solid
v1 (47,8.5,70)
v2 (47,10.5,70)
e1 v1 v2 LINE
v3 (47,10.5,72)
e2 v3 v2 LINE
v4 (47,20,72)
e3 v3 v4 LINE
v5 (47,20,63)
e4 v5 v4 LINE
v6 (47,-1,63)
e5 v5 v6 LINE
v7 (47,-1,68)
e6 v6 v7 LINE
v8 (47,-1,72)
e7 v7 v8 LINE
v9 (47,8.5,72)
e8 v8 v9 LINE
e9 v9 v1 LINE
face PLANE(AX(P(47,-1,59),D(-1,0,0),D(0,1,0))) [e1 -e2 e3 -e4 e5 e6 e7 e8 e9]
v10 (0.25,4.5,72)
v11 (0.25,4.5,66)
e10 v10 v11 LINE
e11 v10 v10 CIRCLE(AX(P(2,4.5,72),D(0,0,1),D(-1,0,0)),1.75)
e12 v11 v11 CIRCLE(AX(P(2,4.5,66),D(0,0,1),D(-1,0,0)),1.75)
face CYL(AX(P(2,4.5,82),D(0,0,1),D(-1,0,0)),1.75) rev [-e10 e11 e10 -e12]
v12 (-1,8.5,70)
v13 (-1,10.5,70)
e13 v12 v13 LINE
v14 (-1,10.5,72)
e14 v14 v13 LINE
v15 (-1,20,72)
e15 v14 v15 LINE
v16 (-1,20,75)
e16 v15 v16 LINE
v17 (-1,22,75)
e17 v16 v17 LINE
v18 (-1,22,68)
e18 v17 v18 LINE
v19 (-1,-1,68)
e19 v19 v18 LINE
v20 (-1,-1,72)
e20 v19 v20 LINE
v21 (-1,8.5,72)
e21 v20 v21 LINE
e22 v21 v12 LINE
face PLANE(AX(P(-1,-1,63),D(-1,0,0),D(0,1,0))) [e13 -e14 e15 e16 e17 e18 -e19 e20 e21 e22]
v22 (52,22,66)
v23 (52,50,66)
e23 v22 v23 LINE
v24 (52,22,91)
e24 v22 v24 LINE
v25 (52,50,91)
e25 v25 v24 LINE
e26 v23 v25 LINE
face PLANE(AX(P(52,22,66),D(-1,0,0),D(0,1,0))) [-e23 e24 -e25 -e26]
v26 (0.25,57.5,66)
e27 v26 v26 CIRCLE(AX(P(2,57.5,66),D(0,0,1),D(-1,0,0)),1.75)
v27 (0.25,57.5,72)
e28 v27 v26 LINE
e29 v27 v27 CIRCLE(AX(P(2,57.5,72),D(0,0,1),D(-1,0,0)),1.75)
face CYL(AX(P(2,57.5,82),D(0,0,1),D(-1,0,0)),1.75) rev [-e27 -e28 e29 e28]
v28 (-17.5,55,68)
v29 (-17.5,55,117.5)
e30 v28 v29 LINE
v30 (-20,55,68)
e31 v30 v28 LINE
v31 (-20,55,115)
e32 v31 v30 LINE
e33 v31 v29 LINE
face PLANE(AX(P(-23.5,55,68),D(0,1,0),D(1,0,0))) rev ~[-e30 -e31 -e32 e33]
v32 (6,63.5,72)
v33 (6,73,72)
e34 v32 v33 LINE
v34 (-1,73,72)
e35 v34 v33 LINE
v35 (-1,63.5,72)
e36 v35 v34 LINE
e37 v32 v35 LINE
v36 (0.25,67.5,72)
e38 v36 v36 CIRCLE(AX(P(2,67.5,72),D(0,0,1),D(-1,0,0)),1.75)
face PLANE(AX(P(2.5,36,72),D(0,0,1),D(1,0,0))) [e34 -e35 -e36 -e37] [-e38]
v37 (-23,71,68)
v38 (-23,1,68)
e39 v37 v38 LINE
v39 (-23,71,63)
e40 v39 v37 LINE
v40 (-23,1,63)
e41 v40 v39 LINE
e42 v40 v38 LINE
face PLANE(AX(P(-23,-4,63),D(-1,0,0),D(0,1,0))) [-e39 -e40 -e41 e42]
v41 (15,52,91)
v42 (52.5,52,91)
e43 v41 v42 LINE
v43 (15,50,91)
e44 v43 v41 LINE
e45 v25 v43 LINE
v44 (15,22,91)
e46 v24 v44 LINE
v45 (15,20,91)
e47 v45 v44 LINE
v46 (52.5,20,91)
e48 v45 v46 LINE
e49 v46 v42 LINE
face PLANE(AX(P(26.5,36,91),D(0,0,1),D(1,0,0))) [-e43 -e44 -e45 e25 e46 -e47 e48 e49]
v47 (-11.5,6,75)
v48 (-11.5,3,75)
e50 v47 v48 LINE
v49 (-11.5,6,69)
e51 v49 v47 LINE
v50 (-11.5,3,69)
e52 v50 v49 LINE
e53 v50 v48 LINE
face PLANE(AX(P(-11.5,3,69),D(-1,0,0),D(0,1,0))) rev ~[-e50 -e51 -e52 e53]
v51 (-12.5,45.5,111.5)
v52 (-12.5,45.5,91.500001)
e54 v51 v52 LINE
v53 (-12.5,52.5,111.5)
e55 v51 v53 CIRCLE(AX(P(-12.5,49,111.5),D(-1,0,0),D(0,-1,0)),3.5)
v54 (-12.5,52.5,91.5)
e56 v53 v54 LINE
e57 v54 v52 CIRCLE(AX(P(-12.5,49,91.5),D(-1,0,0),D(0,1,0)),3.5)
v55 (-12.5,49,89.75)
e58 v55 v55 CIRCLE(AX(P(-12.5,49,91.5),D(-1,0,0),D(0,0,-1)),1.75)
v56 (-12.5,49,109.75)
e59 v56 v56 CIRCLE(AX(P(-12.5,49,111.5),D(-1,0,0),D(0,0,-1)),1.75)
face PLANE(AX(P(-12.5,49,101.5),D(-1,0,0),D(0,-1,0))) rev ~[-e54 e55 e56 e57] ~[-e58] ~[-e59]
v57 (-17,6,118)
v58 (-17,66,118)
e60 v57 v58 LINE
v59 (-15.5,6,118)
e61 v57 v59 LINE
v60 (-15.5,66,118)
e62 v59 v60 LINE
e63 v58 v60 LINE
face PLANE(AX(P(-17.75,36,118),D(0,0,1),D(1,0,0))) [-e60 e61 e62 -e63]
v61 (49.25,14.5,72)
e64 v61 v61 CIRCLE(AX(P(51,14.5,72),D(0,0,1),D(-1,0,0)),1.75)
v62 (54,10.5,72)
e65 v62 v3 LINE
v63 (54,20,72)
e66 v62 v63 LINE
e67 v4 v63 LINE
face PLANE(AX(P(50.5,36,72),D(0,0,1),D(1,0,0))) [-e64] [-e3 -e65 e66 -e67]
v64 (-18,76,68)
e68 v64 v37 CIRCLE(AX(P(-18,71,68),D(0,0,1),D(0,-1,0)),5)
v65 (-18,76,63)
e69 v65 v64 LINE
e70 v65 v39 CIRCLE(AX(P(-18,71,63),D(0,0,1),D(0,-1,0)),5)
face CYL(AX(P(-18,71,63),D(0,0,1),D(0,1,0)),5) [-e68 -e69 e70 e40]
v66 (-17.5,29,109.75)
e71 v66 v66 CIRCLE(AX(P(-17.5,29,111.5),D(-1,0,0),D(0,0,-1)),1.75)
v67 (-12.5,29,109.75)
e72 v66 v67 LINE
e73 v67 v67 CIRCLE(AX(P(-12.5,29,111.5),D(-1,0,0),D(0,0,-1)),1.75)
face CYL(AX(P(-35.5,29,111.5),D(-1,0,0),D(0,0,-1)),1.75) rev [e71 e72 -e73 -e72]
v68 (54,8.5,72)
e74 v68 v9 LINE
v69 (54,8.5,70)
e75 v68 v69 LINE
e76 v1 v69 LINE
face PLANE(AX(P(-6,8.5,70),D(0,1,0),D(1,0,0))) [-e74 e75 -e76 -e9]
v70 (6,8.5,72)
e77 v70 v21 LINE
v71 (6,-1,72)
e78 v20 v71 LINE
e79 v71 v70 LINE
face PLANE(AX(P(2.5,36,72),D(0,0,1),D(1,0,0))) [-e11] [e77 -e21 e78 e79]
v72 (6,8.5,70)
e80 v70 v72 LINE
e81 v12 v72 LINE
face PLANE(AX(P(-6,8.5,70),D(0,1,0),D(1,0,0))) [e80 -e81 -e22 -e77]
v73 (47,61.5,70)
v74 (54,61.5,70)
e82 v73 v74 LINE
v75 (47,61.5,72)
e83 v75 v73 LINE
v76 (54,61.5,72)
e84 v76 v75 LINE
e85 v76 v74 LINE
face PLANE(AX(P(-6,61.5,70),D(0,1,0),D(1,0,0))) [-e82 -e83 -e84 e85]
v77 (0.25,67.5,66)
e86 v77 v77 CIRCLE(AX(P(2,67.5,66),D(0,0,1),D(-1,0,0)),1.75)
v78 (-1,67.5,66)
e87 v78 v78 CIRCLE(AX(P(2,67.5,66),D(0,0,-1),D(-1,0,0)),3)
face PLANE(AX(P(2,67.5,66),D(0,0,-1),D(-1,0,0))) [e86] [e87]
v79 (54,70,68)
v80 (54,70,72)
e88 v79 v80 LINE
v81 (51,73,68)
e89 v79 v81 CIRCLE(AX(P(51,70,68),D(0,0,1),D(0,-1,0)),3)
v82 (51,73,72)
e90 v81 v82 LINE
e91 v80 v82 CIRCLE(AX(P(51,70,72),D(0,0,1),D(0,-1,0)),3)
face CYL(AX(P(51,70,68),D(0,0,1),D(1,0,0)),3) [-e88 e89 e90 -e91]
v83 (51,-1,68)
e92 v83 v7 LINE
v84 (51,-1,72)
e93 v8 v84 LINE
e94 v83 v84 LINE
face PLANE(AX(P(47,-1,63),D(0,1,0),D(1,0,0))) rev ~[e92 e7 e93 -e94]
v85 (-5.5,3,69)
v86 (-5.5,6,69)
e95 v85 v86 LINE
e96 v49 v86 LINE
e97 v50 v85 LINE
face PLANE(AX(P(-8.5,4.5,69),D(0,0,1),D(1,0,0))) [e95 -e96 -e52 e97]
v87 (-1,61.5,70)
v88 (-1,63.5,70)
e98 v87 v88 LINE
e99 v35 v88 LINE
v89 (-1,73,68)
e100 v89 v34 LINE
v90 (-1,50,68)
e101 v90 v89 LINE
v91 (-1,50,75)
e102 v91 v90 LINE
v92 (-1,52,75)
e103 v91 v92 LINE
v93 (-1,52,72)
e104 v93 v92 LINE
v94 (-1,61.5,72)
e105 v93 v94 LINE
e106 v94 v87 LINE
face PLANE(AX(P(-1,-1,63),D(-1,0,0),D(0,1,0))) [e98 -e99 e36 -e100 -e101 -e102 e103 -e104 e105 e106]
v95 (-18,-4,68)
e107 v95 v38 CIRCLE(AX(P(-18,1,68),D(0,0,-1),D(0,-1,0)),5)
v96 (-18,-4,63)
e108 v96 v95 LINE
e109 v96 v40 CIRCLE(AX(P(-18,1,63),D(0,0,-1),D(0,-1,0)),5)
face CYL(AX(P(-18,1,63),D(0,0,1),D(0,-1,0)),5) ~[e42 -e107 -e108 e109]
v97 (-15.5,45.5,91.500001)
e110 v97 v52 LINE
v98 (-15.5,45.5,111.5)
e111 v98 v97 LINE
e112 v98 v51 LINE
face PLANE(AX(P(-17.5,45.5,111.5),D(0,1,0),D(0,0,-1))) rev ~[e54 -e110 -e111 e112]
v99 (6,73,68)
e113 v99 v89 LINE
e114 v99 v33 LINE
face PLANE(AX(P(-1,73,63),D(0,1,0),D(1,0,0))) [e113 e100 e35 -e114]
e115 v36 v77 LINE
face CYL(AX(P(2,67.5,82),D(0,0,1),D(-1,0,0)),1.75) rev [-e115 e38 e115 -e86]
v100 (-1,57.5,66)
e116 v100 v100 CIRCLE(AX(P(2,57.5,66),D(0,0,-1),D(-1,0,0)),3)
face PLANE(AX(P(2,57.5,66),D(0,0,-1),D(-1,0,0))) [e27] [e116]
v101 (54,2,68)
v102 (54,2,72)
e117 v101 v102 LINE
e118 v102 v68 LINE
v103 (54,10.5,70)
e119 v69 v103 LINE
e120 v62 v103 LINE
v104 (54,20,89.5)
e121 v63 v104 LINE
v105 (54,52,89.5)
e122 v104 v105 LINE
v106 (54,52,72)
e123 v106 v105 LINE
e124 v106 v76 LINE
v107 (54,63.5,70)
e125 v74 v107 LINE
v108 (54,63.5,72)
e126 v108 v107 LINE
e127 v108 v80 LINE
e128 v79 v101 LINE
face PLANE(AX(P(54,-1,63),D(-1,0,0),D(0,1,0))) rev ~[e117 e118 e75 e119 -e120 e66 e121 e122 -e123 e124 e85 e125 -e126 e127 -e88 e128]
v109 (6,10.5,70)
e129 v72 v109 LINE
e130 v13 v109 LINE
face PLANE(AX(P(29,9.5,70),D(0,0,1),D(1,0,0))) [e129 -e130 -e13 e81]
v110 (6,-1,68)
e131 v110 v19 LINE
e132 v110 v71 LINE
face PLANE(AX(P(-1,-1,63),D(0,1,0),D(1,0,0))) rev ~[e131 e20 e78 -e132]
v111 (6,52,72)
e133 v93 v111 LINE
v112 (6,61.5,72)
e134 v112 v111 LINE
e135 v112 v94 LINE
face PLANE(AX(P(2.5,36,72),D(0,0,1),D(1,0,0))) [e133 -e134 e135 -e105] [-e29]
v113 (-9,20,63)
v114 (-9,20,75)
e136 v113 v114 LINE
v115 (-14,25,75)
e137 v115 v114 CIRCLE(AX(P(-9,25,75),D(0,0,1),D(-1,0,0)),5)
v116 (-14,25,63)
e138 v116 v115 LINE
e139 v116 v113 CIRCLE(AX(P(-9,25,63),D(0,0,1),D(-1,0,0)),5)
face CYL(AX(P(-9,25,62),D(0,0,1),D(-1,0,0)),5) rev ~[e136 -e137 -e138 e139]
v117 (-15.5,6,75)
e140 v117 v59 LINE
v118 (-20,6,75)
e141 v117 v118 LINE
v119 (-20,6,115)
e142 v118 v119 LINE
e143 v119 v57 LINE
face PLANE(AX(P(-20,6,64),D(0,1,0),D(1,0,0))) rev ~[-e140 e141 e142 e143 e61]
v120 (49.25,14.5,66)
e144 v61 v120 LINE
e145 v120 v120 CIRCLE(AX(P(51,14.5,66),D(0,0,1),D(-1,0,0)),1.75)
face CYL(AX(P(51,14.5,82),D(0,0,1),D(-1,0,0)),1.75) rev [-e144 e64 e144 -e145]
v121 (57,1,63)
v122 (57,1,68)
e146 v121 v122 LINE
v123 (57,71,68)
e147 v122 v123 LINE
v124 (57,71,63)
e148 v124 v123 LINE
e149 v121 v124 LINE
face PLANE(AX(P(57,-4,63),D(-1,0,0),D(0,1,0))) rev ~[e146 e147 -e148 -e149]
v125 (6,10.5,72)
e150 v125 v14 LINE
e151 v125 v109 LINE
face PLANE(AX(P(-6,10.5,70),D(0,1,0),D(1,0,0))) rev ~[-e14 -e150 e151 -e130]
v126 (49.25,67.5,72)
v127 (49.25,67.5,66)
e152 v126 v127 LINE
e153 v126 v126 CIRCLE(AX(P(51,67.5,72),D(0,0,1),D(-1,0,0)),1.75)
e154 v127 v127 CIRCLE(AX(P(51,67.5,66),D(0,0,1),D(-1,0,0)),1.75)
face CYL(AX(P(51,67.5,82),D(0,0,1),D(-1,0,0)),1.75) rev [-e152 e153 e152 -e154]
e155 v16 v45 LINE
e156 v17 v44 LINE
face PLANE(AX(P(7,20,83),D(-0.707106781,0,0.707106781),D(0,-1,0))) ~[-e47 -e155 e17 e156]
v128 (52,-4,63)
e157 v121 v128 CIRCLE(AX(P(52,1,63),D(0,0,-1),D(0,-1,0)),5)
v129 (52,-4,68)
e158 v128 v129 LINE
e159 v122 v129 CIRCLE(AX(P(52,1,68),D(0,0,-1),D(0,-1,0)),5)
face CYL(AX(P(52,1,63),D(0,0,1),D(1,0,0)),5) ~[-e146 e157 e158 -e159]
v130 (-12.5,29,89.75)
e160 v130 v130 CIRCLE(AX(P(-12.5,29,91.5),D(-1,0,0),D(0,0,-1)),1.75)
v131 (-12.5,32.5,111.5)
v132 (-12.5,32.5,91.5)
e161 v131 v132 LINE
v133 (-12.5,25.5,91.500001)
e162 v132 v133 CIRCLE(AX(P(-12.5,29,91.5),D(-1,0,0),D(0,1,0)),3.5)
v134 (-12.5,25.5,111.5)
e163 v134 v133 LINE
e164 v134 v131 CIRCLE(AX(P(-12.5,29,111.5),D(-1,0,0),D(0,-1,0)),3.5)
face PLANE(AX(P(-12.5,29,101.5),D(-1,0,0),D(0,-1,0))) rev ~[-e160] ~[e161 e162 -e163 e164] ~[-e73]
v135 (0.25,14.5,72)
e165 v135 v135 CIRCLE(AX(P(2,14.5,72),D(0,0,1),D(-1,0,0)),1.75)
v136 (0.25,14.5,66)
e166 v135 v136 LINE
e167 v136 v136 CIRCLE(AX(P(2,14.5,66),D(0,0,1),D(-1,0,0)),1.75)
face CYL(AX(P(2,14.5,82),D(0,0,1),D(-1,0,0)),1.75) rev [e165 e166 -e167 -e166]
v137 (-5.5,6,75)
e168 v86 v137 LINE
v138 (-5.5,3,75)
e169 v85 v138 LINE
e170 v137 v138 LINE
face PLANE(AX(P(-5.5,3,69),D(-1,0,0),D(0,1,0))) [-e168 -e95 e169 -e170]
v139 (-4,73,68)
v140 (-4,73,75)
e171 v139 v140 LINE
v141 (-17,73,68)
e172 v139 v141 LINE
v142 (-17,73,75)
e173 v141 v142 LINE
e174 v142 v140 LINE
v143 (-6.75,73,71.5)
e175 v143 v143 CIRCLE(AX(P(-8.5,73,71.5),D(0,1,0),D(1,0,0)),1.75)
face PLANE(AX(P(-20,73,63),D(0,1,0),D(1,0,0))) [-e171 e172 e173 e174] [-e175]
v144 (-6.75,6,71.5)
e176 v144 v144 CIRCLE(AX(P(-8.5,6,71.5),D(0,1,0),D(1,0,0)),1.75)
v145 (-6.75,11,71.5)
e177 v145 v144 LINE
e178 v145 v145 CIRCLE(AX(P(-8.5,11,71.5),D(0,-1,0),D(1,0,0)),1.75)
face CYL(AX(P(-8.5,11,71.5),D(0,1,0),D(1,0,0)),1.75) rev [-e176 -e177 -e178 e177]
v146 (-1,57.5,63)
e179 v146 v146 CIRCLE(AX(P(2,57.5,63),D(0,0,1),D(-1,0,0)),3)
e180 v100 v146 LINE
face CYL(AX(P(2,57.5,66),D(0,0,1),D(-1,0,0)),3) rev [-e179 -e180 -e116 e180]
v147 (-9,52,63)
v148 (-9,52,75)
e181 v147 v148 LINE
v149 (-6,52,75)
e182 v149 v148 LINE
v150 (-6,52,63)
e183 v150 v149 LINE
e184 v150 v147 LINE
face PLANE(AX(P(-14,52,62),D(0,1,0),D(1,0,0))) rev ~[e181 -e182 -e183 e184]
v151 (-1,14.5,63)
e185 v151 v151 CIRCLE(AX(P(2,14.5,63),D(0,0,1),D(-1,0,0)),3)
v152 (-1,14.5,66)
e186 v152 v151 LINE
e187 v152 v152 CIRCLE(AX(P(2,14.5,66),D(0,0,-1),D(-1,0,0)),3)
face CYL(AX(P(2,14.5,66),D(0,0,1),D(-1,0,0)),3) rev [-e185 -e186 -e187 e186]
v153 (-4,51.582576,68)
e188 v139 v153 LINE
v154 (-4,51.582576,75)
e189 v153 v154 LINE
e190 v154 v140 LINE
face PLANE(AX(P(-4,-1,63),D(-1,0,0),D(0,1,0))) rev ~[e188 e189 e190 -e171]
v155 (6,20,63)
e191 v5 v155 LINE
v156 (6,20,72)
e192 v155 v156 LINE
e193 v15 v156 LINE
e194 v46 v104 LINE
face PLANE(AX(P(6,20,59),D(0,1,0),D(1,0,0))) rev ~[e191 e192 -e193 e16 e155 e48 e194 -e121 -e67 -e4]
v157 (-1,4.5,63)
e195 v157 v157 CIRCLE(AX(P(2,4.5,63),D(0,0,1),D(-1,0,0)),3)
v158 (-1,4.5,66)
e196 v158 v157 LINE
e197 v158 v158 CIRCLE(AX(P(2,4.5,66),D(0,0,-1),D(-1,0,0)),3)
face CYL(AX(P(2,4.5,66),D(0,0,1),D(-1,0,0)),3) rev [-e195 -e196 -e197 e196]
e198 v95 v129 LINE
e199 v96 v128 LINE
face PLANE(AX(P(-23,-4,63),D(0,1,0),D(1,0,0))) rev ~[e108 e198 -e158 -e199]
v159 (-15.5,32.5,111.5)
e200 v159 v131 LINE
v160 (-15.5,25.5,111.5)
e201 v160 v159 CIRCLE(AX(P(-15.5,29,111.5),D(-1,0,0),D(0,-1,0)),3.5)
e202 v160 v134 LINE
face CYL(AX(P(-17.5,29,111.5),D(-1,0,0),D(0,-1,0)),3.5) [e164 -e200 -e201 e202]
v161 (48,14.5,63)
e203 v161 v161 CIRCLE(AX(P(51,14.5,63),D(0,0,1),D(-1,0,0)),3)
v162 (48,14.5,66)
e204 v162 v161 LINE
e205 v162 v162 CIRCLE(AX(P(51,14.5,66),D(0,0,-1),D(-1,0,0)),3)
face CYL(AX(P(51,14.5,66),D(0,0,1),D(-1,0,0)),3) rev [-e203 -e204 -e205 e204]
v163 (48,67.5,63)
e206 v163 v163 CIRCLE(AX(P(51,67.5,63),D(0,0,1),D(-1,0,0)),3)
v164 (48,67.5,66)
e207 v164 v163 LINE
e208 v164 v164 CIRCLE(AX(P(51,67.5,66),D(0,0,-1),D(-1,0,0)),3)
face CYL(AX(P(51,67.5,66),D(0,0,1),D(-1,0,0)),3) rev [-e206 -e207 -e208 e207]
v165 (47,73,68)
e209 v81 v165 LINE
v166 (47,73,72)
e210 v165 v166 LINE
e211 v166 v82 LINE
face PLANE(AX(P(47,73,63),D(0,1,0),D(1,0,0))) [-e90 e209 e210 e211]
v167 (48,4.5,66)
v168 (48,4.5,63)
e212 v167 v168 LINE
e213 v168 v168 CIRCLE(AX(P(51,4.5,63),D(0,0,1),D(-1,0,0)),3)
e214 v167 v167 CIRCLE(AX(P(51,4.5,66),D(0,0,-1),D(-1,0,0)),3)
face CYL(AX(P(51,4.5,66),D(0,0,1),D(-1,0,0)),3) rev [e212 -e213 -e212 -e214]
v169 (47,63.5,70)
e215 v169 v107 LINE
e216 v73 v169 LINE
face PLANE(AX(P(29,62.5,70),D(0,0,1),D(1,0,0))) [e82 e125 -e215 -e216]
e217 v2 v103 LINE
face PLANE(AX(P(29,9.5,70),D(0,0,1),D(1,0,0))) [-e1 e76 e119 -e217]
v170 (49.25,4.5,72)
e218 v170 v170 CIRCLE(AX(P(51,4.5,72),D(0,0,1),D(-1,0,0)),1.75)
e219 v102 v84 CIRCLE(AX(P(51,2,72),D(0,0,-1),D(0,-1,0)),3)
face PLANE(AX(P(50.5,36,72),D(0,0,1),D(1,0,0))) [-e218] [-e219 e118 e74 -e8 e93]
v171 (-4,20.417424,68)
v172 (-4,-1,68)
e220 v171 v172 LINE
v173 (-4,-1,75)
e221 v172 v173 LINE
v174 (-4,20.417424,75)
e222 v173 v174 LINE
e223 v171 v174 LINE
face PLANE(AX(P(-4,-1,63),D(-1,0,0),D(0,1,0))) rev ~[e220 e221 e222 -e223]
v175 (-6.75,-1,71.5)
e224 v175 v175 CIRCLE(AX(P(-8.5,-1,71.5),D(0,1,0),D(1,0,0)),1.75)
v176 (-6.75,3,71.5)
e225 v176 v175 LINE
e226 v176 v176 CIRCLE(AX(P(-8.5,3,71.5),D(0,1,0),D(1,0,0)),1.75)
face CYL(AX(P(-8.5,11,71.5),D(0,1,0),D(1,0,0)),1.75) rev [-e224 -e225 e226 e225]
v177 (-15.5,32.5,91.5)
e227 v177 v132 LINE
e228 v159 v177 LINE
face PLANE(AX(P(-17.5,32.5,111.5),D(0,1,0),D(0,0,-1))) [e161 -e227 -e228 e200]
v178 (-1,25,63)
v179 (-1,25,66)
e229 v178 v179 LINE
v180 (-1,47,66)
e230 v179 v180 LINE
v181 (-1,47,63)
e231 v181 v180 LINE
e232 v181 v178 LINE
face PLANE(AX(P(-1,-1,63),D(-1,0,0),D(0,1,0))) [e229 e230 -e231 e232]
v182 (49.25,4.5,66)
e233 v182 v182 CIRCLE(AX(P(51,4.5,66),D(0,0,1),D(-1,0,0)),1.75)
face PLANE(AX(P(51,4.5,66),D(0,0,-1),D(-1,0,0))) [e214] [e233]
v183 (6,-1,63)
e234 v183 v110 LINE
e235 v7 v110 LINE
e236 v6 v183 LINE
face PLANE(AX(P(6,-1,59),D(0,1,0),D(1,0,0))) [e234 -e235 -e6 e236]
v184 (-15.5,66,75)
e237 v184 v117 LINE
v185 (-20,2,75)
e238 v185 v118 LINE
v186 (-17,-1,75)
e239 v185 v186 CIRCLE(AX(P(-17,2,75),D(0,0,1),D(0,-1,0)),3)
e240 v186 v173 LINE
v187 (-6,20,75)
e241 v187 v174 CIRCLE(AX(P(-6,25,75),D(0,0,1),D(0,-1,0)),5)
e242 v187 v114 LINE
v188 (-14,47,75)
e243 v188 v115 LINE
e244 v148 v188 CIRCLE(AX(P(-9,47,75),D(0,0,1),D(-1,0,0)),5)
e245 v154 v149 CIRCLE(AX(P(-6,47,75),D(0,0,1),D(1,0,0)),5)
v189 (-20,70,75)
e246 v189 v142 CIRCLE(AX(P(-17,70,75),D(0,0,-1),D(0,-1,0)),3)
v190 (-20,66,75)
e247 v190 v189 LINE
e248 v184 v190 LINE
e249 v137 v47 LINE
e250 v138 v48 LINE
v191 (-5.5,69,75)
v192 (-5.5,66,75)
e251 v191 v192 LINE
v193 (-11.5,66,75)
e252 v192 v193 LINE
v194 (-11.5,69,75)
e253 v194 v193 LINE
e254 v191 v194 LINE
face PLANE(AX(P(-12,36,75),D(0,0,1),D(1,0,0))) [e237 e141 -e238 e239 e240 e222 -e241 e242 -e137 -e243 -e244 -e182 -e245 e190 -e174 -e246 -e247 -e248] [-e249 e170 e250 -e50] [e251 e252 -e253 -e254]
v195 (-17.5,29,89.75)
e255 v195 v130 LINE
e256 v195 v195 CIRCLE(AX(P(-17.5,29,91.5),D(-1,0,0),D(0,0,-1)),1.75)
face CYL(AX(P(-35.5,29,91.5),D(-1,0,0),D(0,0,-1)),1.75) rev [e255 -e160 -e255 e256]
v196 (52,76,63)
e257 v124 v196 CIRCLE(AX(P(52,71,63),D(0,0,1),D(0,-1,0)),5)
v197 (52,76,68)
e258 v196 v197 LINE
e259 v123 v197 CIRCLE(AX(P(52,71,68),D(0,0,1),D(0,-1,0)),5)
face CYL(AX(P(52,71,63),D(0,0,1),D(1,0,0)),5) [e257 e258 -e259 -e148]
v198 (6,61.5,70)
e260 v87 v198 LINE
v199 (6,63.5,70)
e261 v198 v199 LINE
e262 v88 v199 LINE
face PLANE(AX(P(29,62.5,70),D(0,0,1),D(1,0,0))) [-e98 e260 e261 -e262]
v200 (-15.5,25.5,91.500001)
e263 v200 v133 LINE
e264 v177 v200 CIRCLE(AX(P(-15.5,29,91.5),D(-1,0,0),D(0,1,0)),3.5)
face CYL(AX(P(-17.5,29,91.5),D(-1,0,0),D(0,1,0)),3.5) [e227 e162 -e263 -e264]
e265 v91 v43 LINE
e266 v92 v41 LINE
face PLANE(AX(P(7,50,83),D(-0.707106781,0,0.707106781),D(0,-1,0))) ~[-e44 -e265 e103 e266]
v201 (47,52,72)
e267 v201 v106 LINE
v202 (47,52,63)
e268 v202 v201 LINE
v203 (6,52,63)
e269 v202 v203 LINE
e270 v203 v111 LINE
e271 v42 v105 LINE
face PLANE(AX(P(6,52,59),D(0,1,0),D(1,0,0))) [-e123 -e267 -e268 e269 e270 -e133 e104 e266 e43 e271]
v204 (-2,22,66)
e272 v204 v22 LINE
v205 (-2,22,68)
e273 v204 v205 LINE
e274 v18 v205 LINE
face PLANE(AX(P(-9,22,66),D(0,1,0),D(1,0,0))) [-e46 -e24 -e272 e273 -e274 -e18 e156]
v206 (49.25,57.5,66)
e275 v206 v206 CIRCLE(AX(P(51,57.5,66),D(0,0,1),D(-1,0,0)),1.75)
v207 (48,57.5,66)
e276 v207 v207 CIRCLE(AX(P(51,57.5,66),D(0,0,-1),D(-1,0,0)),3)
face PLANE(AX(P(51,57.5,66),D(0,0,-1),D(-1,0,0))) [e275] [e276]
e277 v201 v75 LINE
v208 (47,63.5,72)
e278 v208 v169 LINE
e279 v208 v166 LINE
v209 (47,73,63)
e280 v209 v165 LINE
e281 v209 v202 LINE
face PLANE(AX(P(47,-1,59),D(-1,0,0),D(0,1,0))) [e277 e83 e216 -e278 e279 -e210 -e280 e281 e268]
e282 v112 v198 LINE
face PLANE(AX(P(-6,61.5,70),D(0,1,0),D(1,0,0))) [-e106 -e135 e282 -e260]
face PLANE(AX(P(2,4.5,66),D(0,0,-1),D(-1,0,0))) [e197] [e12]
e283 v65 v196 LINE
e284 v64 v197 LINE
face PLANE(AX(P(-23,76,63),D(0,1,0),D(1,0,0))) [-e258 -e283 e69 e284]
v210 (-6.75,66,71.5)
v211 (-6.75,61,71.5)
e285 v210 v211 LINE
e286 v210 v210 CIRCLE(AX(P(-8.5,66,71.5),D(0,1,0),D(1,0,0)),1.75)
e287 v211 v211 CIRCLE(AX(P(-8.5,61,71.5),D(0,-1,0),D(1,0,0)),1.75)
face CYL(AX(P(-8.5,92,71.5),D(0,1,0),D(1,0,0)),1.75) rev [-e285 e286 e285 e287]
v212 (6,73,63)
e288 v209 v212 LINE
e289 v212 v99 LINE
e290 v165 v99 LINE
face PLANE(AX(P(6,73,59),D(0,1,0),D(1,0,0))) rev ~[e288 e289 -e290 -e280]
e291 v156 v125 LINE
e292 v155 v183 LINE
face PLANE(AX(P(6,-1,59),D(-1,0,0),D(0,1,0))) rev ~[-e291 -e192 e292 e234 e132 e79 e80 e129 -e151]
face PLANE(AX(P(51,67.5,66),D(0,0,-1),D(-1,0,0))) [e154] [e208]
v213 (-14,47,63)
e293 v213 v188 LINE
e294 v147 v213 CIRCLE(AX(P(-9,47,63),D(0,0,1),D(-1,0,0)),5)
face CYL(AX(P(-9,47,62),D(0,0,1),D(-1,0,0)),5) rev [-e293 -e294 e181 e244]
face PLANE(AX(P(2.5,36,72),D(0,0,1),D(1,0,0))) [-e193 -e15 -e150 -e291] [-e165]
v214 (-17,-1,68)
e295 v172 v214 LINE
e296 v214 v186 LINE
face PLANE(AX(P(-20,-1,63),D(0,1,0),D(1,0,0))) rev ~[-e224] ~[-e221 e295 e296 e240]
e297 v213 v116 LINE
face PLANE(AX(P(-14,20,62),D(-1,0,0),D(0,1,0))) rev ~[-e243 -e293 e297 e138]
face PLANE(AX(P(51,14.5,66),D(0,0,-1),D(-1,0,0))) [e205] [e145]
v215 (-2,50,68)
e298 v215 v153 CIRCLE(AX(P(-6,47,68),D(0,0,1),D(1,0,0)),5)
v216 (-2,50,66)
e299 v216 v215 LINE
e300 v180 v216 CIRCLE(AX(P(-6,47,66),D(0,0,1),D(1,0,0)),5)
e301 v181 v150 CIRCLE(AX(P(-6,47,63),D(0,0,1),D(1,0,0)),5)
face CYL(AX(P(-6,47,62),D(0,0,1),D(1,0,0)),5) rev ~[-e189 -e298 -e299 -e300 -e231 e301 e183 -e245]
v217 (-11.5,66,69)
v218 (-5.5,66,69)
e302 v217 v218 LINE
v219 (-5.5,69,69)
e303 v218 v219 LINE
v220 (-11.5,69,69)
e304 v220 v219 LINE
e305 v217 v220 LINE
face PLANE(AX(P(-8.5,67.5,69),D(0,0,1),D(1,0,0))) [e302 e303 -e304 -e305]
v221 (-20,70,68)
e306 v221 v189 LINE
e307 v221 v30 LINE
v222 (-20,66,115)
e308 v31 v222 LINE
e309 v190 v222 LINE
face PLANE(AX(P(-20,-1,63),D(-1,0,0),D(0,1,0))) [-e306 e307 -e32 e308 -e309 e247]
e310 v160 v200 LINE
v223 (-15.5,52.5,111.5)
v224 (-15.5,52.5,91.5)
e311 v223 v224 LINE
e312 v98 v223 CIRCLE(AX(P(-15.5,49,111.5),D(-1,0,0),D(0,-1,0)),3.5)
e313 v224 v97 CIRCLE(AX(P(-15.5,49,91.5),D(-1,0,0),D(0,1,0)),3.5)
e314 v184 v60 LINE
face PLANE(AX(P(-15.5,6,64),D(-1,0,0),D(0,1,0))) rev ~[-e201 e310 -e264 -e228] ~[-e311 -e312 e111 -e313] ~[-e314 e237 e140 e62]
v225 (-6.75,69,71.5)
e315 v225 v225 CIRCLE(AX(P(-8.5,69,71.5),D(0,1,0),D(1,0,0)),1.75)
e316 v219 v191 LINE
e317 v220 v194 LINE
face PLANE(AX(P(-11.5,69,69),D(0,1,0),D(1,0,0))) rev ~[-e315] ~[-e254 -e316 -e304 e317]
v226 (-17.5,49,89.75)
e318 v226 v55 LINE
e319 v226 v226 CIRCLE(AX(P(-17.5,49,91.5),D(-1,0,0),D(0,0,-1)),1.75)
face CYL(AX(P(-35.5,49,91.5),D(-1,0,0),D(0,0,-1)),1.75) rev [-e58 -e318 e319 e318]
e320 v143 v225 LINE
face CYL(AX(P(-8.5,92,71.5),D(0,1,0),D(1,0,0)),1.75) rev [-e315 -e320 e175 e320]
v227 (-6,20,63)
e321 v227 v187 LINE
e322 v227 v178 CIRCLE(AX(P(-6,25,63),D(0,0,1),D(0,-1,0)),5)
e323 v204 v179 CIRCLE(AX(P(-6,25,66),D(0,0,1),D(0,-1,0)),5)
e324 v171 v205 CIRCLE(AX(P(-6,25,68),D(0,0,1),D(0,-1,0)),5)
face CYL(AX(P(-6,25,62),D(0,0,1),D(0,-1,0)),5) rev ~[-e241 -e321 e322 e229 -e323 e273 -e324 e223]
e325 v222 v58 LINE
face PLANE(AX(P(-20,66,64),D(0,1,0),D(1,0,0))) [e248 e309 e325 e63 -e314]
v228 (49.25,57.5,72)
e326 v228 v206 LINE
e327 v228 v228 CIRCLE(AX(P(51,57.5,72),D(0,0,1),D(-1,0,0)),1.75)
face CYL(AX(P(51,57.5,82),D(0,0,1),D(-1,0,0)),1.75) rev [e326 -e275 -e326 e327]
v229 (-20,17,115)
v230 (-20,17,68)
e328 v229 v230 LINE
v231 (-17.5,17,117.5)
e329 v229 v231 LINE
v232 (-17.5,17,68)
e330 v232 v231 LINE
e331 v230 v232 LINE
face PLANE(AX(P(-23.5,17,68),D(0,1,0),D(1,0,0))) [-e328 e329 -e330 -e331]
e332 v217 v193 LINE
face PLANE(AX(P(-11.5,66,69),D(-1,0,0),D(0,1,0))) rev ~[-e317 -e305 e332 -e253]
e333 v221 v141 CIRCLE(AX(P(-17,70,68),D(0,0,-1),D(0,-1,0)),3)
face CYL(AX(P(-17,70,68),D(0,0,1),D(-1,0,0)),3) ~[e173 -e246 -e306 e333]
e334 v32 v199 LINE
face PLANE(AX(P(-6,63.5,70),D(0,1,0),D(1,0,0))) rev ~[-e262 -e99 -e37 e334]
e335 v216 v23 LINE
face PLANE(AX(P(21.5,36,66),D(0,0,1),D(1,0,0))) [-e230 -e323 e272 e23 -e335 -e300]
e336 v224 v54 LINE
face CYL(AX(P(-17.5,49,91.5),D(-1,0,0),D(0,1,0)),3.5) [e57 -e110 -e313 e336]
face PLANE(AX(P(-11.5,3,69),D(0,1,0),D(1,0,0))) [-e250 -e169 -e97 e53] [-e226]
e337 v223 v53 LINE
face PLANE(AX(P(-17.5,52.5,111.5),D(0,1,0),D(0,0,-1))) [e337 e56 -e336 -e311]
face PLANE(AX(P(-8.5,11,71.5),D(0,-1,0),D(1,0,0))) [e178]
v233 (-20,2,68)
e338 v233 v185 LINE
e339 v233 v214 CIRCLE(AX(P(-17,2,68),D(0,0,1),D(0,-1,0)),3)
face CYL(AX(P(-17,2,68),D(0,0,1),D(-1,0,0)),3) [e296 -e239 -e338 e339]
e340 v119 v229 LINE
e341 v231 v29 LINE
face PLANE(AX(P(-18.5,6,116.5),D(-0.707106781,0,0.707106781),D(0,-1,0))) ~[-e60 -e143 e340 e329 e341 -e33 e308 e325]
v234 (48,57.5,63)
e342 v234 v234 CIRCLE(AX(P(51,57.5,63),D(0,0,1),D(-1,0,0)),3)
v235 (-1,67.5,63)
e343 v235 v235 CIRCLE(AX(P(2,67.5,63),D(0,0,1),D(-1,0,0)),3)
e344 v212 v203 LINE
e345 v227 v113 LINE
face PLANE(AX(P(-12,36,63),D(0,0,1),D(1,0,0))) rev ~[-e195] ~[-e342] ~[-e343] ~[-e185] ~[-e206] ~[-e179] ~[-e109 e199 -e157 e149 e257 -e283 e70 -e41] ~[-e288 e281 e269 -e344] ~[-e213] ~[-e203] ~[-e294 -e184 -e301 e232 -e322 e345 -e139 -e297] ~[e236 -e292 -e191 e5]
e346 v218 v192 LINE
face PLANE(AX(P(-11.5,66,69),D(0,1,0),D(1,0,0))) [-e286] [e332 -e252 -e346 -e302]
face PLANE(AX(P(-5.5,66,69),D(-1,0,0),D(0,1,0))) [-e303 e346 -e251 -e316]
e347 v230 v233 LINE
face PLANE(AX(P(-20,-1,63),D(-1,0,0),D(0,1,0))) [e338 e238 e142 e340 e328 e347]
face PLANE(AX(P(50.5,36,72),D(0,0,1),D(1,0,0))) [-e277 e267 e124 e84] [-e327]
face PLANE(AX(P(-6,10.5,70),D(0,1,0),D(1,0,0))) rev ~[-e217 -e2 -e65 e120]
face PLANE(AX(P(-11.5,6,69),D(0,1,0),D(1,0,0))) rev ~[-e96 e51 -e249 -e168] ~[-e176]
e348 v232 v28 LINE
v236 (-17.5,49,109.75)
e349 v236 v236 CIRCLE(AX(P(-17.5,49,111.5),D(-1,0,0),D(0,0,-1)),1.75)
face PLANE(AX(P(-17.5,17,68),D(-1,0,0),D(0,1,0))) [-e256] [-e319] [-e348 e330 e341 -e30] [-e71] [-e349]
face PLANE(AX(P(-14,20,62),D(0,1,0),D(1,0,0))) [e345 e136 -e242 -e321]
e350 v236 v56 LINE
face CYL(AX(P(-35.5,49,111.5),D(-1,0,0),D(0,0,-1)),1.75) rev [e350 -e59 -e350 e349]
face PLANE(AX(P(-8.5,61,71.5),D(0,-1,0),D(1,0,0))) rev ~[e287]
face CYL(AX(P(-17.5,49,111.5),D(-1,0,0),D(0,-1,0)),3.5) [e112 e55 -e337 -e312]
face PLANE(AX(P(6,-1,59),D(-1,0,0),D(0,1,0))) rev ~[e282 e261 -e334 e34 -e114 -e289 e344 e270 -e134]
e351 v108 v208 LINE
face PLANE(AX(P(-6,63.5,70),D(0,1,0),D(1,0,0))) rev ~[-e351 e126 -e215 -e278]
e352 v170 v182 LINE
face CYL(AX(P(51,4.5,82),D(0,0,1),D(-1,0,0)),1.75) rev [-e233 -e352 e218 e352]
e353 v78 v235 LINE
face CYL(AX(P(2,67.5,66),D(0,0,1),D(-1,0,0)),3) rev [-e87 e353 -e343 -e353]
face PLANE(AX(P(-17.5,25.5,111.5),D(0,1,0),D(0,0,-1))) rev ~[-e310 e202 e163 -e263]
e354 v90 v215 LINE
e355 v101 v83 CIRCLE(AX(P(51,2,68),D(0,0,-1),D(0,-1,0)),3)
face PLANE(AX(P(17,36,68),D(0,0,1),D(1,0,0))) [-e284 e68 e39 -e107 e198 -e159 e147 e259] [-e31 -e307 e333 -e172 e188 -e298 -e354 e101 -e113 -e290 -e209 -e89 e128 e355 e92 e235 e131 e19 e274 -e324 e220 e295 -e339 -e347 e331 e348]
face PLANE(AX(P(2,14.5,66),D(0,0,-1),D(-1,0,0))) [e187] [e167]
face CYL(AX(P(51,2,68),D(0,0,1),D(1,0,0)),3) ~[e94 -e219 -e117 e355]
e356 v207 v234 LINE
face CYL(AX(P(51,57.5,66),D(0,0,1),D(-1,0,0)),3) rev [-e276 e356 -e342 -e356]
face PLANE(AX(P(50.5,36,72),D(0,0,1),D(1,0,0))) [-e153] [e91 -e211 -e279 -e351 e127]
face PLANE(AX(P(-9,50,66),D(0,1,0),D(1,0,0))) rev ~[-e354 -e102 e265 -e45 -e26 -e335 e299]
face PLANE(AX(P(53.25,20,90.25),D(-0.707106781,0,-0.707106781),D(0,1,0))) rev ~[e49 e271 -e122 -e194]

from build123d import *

# Parameters (mm, degrees)
BOX035_W                = 6
BOX035_H                = 38
BOX035_DEPTH            = 68
CYLINDER040_R           = 1.75
CYLINDER040_DEPTH       = 31
CYLINDER040_PITCH_ANGLE = 90
CYLINDER041_R           = 1.75
CYLINDER041_DEPTH       = 31
CYLINDER041_PITCH_ANGLE = 90
CYLINDER_R              = 1.75
CYLINDER_DEPTH          = 31
CYLINDER_PITCH_ANGLE    = 90
CYLINDER053_R           = 1.75
CYLINDER053_DEPTH       = 31
CYLINDER053_PITCH_ANGLE = 90
PAD_DEPTH               = 5
BOX037_W                = 61
BOX037_H                = 28
BOX037_DEPTH            = 44
BOX036_W                = 13
BOX036_H                = 32
BOX036_DEPTH            = 17
FILLET018002_R          = 5
BOX033_W                = 4.5
BOX033_H                = 60
BOX033_DEPTH            = 54
CYLINDER013_R           = 1.75
CYLINDER013_DEPTH       = 31
CYLINDER013_ROLL_ANGLE  = 90
CYLINDER012_R           = 1.75
CYLINDER012_DEPTH       = 31
CYLINDER012_ROLL_ANGLE  = 90
BOX018_W                = 6
BOX018_H                = 3
BOX018_DEPTH            = 12
BOX016_W                = 6
BOX016_H                = 3
BOX016_DEPTH            = 12
BOX017_W                = 16
BOX017_H                = 74
BOX017_DEPTH            = 12
BOX015_W                = 41
BOX015_H                = 21
BOX015_DEPTH            = 43
BOX014_W                = 41
BOX014_H                = 21
BOX014_DEPTH            = 43
CYLINDER008_R           = 1.75
CYLINDER008_DEPTH       = 21.5
CYLINDER008_PITCH_ANGLE = 90
CYLINDER009_R           = 3
CYLINDER009_DEPTH       = 21.5
CYLINDER009_PITCH_ANGLE = 90
FUSION009_PITCH_ANGLE   = 90
FUSION010_PITCH_ANGLE   = 90
FUSION008_PITCH_ANGLE   = 90
FUSION005_PITCH_ANGLE   = 90
BOX012_W                = 70
BOX012_H                = 2
BOX012_DEPTH            = 9
BOX011_W                = 7
BOX011_H                = 74
BOX011_DEPTH            = 9
BOX010_W                = 7
BOX010_H                = 74
BOX010_DEPTH            = 9
BOX009_W                = 80
BOX009_H                = 80
BOX009_DEPTH            = 5
BOX032_W                = 55
BOX032_H                = 32
BOX032_DEPTH            = 25
CHAMFER003_SIZE         = 3
FILLET018013_1_R        = 5
FILLET018013_2_R        = 3
CHAMFER004_1_SIZE       = 16
CHAMFER004_2_SIZE       = 1.5


with BuildPart() as cube035:
    # Box035 → Box035 (new body)
    with BuildSketch(Plane(origin=(-23.5, 17, 68), x_dir=(1, 0, 0), z_dir=(0, 0, 1))):
        with Locations((3, 19)):
            Rectangle(BOX035_W, BOX035_H)
    extrude(amount=BOX035_DEPTH)


with BuildPart() as cylinder062:
    # Cylinder040 → Cylinder040 (new body)
    with BuildSketch(Plane.XY):
        Circle(CYLINDER040_R)
    extrude(amount=CYLINDER040_DEPTH)


with BuildPart() as cylinder062_1:
    # Cylinder040 pitch: moved
    add(cylinder062.part.rotate(Axis((0, 0, 0), (0, 1, 0)), CYLINDER040_PITCH_ANGLE))


with BuildPart() as cylinder062_2:
    # Cylinder040 placement: moved
    add(cylinder062_1.part.moved(Location((-49.5, 49, 91.5))))


with BuildPart() as cylinder063:
    # Cylinder041 → Cylinder041 (new body)
    with BuildSketch(Plane.XY):
        Circle(CYLINDER041_R)
    extrude(amount=CYLINDER041_DEPTH)


with BuildPart() as cylinder063_1:
    # Cylinder041 pitch: moved
    add(cylinder063.part.rotate(Axis((0, 0, 0), (0, 1, 0)), CYLINDER041_PITCH_ANGLE))


with BuildPart() as cylinder063_2:
    # Cylinder041 placement: moved
    add(cylinder063_1.part.moved(Location((-49.5, 49, 111.5))))


with BuildPart() as cylinder061:
    # Cylinder → Cylinder (new body)
    with BuildSketch(Plane.XY):
        Circle(CYLINDER_R)
    extrude(amount=CYLINDER_DEPTH)


with BuildPart() as cylinder061_1:
    # Cylinder pitch: moved
    add(cylinder061.part.rotate(Axis((0, 0, 0), (0, 1, 0)), CYLINDER_PITCH_ANGLE))


with BuildPart() as cylinder061_2:
    # Cylinder placement: moved
    add(cylinder061_1.part.moved(Location((-49.5, 29, 111.5))))


with BuildPart() as fusion038:
    # Cylinder053 → Cylinder053 (new body)
    with BuildSketch(Plane.XY):
        Circle(CYLINDER053_R)
    extrude(amount=CYLINDER053_DEPTH)


with BuildPart() as fusion038_1:
    # Cylinder053 pitch: moved
    add(fusion038.part.rotate(Axis((0, 0, 0), (0, 1, 0)), CYLINDER053_PITCH_ANGLE))


with BuildPart() as fusion038_2:
    # Cylinder053 placement: moved
    add(fusion038_1.part.moved(Location((-49.5, 29, 91.5))))

    # Fusion038: union Cylinder062, Cylinder063, Cylinder061
    add(cylinder062_2.part)
    add(cylinder063_2.part)
    add(cylinder061_2.part)


with BuildPart() as fusion038_3:
    # Fusion038 placement: moved
    add(fusion038_2.part.moved(Location((14, 0, 0))))


with BuildPart() as pad:
    # Sketch → Pad (new body)
    with BuildSketch(Plane(origin=(-22, 0, 0), x_dir=(0, -1, 0), z_dir=(-1, 0, 0))):
        with BuildLine():
            ThreePointArc((-45.5, 111.5), (-49, 115), (-52.5, 111.5))
            Line((-52.5, 111.5), (-52.5, 91.5))
            ThreePointArc((-52.5, 91.5), (-49, 88), (-45.5, 91.500001))
            Line((-45.5, 111.5), (-45.5, 91.500001))
        make_face()
    extrude(amount=-PAD_DEPTH)


with BuildPart() as clone_of_pad:
    # Clone base: copy of Pad
    add(pad.part)


with BuildPart() as clone_of_pad_1:
    # Clone placement: moved
    add(clone_of_pad.part.moved(Location((0, -20, 0))))


with BuildPart() as fusion039:
    # Fusion039 base: copy of Pad
    add(pad.part)

    # Fusion039: union Clone of Pad
    add(clone_of_pad_1.part)


with BuildPart() as fusion039_1:
    # Fusion039 placement: moved
    add(fusion039.part.moved(Location((4.5, 0, 0))))


with BuildPart() as cube036:
    # Box037 → Box037 (new body)
    with BuildSketch(Plane(origin=(-9, 22, 66), x_dir=(1, 0, 0), z_dir=(0, 0, 1))):
        with Locations((30.5, 14)):
            Rectangle(BOX037_W, BOX037_H)
    extrude(amount=BOX037_DEPTH)


with BuildPart() as fillet018002:
    # Box036 → Box036 (new body)
    with BuildSketch(Plane(origin=(-14, 20, 62), x_dir=(1, 0, 0), z_dir=(0, 0, 1))):
        with Locations((6.5, 16)):
            Rectangle(BOX036_W, BOX036_H)
    extrude(amount=BOX036_DEPTH)

    # Fillet018002
    fillet018002_edges = [fillet018002.edges().sort_by_distance(p)[0] for p in [
        (-14, 20, 70.5),
        (-14, 52, 70.5),
        (-1, 20, 70.5),
        (-1, 52, 70.5),
    ]]
    fillet(fillet018002_edges, radius=FILLET018002_R)


with BuildPart() as cube033:
    # Box033 → Box033 (new body)
    with BuildSketch(Plane(origin=(-20, 6, 64), x_dir=(1, 0, 0), z_dir=(0, 0, 1))):
        with Locations((2.25, 30)):
            Rectangle(BOX033_W, BOX033_H)
    extrude(amount=BOX033_DEPTH)


with BuildPart() as cylinder001:
    # Cylinder013 → Cylinder013 (new body)
    with BuildSketch(Plane.XY):
        Circle(CYLINDER013_R)
    extrude(amount=CYLINDER013_DEPTH)


with BuildPart() as cylinder001_1:
    # Cylinder013 roll: moved
    add(cylinder001.part.rotate(Axis((0, 0, 0), (1, 0, 0)), CYLINDER013_ROLL_ANGLE))


with BuildPart() as cylinder001_2:
    # Cylinder013 placement: moved
    add(cylinder001_1.part.moved(Location((-8.5, 11, 71.5))))


with BuildPart() as cylinder030:
    # Cylinder012 → Cylinder012 (new body)
    with BuildSketch(Plane.XY):
        Circle(CYLINDER012_R)
    extrude(amount=CYLINDER012_DEPTH)


with BuildPart() as cylinder030_1:
    # Cylinder012 roll: moved
    add(cylinder030.part.rotate(Axis((0, 0, 0), (1, 0, 0)), CYLINDER012_ROLL_ANGLE))


with BuildPart() as cylinder030_2:
    # Cylinder012 placement: moved
    add(cylinder030_1.part.moved(Location((-8.5, 92, 71.5))))


with BuildPart() as cube018:
    # Box018 → Box018 (new body)
    with BuildSketch(Plane(origin=(-11.5, 66, 69), x_dir=(1, 0, 0), z_dir=(0, 0, 1))):
        with Locations((3, 1.5)):
            Rectangle(BOX018_W, BOX018_H)
    extrude(amount=BOX018_DEPTH)


with BuildPart() as cube016:
    # Box016 → Box016 (new body)
    with BuildSketch(Plane(origin=(-11.5, 3, 69), x_dir=(1, 0, 0), z_dir=(0, 0, 1))):
        with Locations((3, 1.5)):
            Rectangle(BOX016_W, BOX016_H)
    extrude(amount=BOX016_DEPTH)


with BuildPart() as cube017:
    # Box017 → Box017 (new body)
    with BuildSketch(Plane(origin=(-20, -1, 63), x_dir=(1, 0, 0), z_dir=(0, 0, 1))):
        with Locations((8, 37)):
            Rectangle(BOX017_W, BOX017_H)
    extrude(amount=BOX017_DEPTH)


with BuildPart() as cube015:
    # Box015 → Box015 (new body)
    with BuildSketch(Plane(origin=(6, 52, 59), x_dir=(1, 0, 0), z_dir=(0, 0, 1))):
        with Locations((20.5, 10.5)):
            Rectangle(BOX015_W, BOX015_H)
    extrude(amount=BOX015_DEPTH)


with BuildPart() as cube014:
    # Box014 → Box014 (new body)
    with BuildSketch(Plane(origin=(6, -1, 59), x_dir=(1, 0, 0), z_dir=(0, 0, 1))):
        with Locations((20.5, 10.5)):
            Rectangle(BOX014_W, BOX014_H)
    extrude(amount=BOX014_DEPTH)


with BuildPart() as joint_d010:
    # Cylinder008 → Cylinder008 (new body)
    with BuildSketch(Plane.XY):
        Circle(CYLINDER008_R)
    extrude(amount=CYLINDER008_DEPTH)


with BuildPart() as joint_d010_1:
    # Cylinder008 pitch: moved
    add(joint_d010.part.rotate(Axis((0, 0, 0), (0, 1, 0)), CYLINDER008_PITCH_ANGLE))


with BuildPart() as joint_d010_2:
    # Cylinder008 placement: moved
    add(joint_d010_1.part.moved(Location((16, -24.5, 7))))


with BuildPart() as joint_d011:
    # Cylinder009 → Cylinder009 (new body)
    with BuildSketch(Plane.XY):
        Circle(CYLINDER009_R)
    extrude(amount=CYLINDER009_DEPTH)


with BuildPart() as joint_d011_1:
    # Cylinder009 pitch: moved
    add(joint_d011.part.rotate(Axis((0, 0, 0), (0, 1, 0)), CYLINDER009_PITCH_ANGLE))


with BuildPart() as joint_d011_2:
    # Cylinder009 placement: moved
    add(joint_d011_1.part.moved(Location((32, -24.5, 7))))


with BuildPart() as fusion009:
    # Fusion009 base: copy of Joint-D011
    add(joint_d011_2.part)

    # Fusion009: union Joint-D010
    add(joint_d010_2.part)


with BuildPart() as fusion009_1:
    # Fusion009 pitch: moved
    add(fusion009.part.rotate(Axis((0, 0, 0), (0, 1, 0)), FUSION009_PITCH_ANGLE))


with BuildPart() as fusion009_2:
    # Fusion009 placement: moved
    add(fusion009_1.part.moved(Location((-5, 39, 98))))


with BuildPart() as fusion010:
    # Fusion010 base: copy of Joint-D011
    add(joint_d011_2.part)

    # Fusion010: union Joint-D010
    add(joint_d010_2.part)


with BuildPart() as fusion010_1:
    # Fusion010 pitch: moved
    add(fusion010.part.rotate(Axis((0, 0, 0), (0, 1, 0)), FUSION010_PITCH_ANGLE))


with BuildPart() as fusion010_2:
    # Fusion010 placement: moved
    add(fusion010_1.part.moved(Location((-5, 29, 98))))


with BuildPart() as fusion008:
    # Fusion008 base: copy of Joint-D011
    add(joint_d011_2.part)

    # Fusion008: union Joint-D010
    add(joint_d010_2.part)


with BuildPart() as fusion008_1:
    # Fusion008 pitch: moved
    add(fusion008.part.rotate(Axis((0, 0, 0), (0, 1, 0)), FUSION008_PITCH_ANGLE))


with BuildPart() as fusion008_2:
    # Fusion008 placement: moved
    add(fusion008_1.part.moved(Location((44, 29, 98))))


with BuildPart() as fusion005:
    # Fusion005 base: copy of Joint-D011
    add(joint_d011_2.part)

    # Fusion005: union Joint-D010
    add(joint_d010_2.part)


with BuildPart() as fusion005_1:
    # Fusion005 pitch: moved
    add(fusion005.part.rotate(Axis((0, 0, 0), (0, 1, 0)), FUSION005_PITCH_ANGLE))


with BuildPart() as fusion005_2:
    # Fusion005 placement: moved
    add(fusion005_1.part.moved(Location((44, 39, 98))))


with BuildPart() as cube012:
    # Box012 → Box012 (new body)
    with BuildSketch(Plane(origin=(-6, 8.5, 70), x_dir=(1, 0, 0), z_dir=(0, 0, 1))):
        with Locations((35, 1)):
            Rectangle(BOX012_W, BOX012_H)
    extrude(amount=BOX012_DEPTH)


with BuildPart() as fusion011:
    # Fusion011 base: copy of Cube012
    add(cube012.part)

    # Fusion011: union Fusion009, Fusion010, Fusion008, Fusion005
    add(fusion009_2.part)
    add(fusion010_2.part)
    add(fusion008_2.part)
    add(fusion005_2.part)


with BuildPart() as fusion012:
    # Fusion012 base: copy of Cube012
    add(cube012.part)

    # Fusion012: union Fusion009, Fusion010, Fusion008, Fusion005
    add(fusion009_2.part)
    add(fusion010_2.part)
    add(fusion008_2.part)
    add(fusion005_2.part)


with BuildPart() as fusion012_1:
    # Fusion012 placement: moved
    add(fusion012.part.moved(Location((0, 53, 0))))


with BuildPart() as cube011:
    # Box011 → Box011 (new body)
    with BuildSketch(Plane(origin=(47, -1, 63), x_dir=(1, 0, 0), z_dir=(0, 0, 1))):
        with Locations((3.5, 37)):
            Rectangle(BOX011_W, BOX011_H)
    extrude(amount=BOX011_DEPTH)


with BuildPart() as cube010:
    # Box010 → Box010 (new body)
    with BuildSketch(Plane(origin=(-1, -1, 63), x_dir=(1, 0, 0), z_dir=(0, 0, 1))):
        with Locations((3.5, 37)):
            Rectangle(BOX010_W, BOX010_H)
    extrude(amount=BOX010_DEPTH)


with BuildPart() as cut050:
    # Box009 → Box009 (new body)
    with BuildSketch(Plane(origin=(-23, -4, 63), x_dir=(1, 0, 0), z_dir=(0, 0, 1))):
        with Locations((40, 40)):
            Rectangle(BOX009_W, BOX009_H)
    extrude(amount=BOX009_DEPTH)

    # Fusion013: union Cube011, Cube010
    add(cube011.part)
    add(cube010.part)

    # Cut018: cut Fusion012
    add(fusion012_1.part, mode=Mode.SUBTRACT)

    # Cut019: cut Fusion011
    add(fusion011.part, mode=Mode.SUBTRACT)

    # Cut020: cut Cube014
    add(cube014.part, mode=Mode.SUBTRACT)

    # Cut021: cut Cube015
    add(cube015.part, mode=Mode.SUBTRACT)

    # Fusion014: union Cube017
    add(cube017.part)

    # Cut022: cut Cube016
    add(cube016.part, mode=Mode.SUBTRACT)

    # Cut023: cut Cube018
    add(cube018.part, mode=Mode.SUBTRACT)

    # Cut024: cut Cylinder030
    add(cylinder030_2.part, mode=Mode.SUBTRACT)

    # Cut050: cut Cylinder001
    add(cylinder001_2.part, mode=Mode.SUBTRACT)


with BuildPart() as chasis:
    # Box032 → Box032 (new body)
    with BuildSketch(Plane(origin=(-1, 20, 66), x_dir=(1, 0, 0), z_dir=(0, 0, 1))):
        with Locations((27.5, 16)):
            Rectangle(BOX032_W, BOX032_H)
    extrude(amount=BOX032_DEPTH)

    # Fusion025: union Cut050
    add(cut050.part)

    # Fusion026: union Cube033
    add(cube033.part)

    # Cut051: cut Fillet018002
    add(fillet018002.part, mode=Mode.SUBTRACT)

    # Cut066: cut Cube036
    add(cube036.part, mode=Mode.SUBTRACT)

    # Chamfer003
    chamfer003_edges = [chasis.edges().sort_by_distance(p)[0] for p in [
        (-20, 36, 118),
    ]]
    chamfer(chamfer003_edges, length=CHAMFER003_SIZE)

    # Fusion040: union Fusion039
    add(fusion039_1.part)

    # Cut067: cut Fusion038
    add(fusion038_3.part, mode=Mode.SUBTRACT)

    # Cut068: cut Cube035
    add(cube035.part, mode=Mode.SUBTRACT)

    # Fillet018013 1
    fillet018013_1_edges = [chasis.edges().sort_by_distance(p)[0] for p in [
        (-23, -4, 65.5),
        (-23, 76, 65.5),
        (57, 76, 65.5),
        (57, -4, 65.5),
    ]]
    fillet(fillet018013_1_edges, radius=FILLET018013_1_R)

    # Fillet018013 2
    fillet018013_2_edges = [chasis.edges().sort_by_distance(p)[0] for p in [
        (-20, -1, 71.5),
        (-20, 73, 71.5),
        (54, -1, 70),
        (54, 73, 70),
    ]]
    fillet(fillet018013_2_edges, radius=FILLET018013_2_R)

    # Chamfer004 1
    chamfer004_1_edges = [chasis.edges().sort_by_distance(p)[0] for p in [
        (-1, 21, 91),
        (-1, 51, 91),
    ]]
    chamfer(chamfer004_1_edges, length=CHAMFER004_1_SIZE)

    # Chamfer004 2
    chamfer004_2_edges = [chasis.edges().sort_by_distance(p)[0] for p in [
        (54, 36, 91),
    ]]
    chamfer(chamfer004_2_edges, length=CHAMFER004_2_SIZE)


solid = chasis.part
